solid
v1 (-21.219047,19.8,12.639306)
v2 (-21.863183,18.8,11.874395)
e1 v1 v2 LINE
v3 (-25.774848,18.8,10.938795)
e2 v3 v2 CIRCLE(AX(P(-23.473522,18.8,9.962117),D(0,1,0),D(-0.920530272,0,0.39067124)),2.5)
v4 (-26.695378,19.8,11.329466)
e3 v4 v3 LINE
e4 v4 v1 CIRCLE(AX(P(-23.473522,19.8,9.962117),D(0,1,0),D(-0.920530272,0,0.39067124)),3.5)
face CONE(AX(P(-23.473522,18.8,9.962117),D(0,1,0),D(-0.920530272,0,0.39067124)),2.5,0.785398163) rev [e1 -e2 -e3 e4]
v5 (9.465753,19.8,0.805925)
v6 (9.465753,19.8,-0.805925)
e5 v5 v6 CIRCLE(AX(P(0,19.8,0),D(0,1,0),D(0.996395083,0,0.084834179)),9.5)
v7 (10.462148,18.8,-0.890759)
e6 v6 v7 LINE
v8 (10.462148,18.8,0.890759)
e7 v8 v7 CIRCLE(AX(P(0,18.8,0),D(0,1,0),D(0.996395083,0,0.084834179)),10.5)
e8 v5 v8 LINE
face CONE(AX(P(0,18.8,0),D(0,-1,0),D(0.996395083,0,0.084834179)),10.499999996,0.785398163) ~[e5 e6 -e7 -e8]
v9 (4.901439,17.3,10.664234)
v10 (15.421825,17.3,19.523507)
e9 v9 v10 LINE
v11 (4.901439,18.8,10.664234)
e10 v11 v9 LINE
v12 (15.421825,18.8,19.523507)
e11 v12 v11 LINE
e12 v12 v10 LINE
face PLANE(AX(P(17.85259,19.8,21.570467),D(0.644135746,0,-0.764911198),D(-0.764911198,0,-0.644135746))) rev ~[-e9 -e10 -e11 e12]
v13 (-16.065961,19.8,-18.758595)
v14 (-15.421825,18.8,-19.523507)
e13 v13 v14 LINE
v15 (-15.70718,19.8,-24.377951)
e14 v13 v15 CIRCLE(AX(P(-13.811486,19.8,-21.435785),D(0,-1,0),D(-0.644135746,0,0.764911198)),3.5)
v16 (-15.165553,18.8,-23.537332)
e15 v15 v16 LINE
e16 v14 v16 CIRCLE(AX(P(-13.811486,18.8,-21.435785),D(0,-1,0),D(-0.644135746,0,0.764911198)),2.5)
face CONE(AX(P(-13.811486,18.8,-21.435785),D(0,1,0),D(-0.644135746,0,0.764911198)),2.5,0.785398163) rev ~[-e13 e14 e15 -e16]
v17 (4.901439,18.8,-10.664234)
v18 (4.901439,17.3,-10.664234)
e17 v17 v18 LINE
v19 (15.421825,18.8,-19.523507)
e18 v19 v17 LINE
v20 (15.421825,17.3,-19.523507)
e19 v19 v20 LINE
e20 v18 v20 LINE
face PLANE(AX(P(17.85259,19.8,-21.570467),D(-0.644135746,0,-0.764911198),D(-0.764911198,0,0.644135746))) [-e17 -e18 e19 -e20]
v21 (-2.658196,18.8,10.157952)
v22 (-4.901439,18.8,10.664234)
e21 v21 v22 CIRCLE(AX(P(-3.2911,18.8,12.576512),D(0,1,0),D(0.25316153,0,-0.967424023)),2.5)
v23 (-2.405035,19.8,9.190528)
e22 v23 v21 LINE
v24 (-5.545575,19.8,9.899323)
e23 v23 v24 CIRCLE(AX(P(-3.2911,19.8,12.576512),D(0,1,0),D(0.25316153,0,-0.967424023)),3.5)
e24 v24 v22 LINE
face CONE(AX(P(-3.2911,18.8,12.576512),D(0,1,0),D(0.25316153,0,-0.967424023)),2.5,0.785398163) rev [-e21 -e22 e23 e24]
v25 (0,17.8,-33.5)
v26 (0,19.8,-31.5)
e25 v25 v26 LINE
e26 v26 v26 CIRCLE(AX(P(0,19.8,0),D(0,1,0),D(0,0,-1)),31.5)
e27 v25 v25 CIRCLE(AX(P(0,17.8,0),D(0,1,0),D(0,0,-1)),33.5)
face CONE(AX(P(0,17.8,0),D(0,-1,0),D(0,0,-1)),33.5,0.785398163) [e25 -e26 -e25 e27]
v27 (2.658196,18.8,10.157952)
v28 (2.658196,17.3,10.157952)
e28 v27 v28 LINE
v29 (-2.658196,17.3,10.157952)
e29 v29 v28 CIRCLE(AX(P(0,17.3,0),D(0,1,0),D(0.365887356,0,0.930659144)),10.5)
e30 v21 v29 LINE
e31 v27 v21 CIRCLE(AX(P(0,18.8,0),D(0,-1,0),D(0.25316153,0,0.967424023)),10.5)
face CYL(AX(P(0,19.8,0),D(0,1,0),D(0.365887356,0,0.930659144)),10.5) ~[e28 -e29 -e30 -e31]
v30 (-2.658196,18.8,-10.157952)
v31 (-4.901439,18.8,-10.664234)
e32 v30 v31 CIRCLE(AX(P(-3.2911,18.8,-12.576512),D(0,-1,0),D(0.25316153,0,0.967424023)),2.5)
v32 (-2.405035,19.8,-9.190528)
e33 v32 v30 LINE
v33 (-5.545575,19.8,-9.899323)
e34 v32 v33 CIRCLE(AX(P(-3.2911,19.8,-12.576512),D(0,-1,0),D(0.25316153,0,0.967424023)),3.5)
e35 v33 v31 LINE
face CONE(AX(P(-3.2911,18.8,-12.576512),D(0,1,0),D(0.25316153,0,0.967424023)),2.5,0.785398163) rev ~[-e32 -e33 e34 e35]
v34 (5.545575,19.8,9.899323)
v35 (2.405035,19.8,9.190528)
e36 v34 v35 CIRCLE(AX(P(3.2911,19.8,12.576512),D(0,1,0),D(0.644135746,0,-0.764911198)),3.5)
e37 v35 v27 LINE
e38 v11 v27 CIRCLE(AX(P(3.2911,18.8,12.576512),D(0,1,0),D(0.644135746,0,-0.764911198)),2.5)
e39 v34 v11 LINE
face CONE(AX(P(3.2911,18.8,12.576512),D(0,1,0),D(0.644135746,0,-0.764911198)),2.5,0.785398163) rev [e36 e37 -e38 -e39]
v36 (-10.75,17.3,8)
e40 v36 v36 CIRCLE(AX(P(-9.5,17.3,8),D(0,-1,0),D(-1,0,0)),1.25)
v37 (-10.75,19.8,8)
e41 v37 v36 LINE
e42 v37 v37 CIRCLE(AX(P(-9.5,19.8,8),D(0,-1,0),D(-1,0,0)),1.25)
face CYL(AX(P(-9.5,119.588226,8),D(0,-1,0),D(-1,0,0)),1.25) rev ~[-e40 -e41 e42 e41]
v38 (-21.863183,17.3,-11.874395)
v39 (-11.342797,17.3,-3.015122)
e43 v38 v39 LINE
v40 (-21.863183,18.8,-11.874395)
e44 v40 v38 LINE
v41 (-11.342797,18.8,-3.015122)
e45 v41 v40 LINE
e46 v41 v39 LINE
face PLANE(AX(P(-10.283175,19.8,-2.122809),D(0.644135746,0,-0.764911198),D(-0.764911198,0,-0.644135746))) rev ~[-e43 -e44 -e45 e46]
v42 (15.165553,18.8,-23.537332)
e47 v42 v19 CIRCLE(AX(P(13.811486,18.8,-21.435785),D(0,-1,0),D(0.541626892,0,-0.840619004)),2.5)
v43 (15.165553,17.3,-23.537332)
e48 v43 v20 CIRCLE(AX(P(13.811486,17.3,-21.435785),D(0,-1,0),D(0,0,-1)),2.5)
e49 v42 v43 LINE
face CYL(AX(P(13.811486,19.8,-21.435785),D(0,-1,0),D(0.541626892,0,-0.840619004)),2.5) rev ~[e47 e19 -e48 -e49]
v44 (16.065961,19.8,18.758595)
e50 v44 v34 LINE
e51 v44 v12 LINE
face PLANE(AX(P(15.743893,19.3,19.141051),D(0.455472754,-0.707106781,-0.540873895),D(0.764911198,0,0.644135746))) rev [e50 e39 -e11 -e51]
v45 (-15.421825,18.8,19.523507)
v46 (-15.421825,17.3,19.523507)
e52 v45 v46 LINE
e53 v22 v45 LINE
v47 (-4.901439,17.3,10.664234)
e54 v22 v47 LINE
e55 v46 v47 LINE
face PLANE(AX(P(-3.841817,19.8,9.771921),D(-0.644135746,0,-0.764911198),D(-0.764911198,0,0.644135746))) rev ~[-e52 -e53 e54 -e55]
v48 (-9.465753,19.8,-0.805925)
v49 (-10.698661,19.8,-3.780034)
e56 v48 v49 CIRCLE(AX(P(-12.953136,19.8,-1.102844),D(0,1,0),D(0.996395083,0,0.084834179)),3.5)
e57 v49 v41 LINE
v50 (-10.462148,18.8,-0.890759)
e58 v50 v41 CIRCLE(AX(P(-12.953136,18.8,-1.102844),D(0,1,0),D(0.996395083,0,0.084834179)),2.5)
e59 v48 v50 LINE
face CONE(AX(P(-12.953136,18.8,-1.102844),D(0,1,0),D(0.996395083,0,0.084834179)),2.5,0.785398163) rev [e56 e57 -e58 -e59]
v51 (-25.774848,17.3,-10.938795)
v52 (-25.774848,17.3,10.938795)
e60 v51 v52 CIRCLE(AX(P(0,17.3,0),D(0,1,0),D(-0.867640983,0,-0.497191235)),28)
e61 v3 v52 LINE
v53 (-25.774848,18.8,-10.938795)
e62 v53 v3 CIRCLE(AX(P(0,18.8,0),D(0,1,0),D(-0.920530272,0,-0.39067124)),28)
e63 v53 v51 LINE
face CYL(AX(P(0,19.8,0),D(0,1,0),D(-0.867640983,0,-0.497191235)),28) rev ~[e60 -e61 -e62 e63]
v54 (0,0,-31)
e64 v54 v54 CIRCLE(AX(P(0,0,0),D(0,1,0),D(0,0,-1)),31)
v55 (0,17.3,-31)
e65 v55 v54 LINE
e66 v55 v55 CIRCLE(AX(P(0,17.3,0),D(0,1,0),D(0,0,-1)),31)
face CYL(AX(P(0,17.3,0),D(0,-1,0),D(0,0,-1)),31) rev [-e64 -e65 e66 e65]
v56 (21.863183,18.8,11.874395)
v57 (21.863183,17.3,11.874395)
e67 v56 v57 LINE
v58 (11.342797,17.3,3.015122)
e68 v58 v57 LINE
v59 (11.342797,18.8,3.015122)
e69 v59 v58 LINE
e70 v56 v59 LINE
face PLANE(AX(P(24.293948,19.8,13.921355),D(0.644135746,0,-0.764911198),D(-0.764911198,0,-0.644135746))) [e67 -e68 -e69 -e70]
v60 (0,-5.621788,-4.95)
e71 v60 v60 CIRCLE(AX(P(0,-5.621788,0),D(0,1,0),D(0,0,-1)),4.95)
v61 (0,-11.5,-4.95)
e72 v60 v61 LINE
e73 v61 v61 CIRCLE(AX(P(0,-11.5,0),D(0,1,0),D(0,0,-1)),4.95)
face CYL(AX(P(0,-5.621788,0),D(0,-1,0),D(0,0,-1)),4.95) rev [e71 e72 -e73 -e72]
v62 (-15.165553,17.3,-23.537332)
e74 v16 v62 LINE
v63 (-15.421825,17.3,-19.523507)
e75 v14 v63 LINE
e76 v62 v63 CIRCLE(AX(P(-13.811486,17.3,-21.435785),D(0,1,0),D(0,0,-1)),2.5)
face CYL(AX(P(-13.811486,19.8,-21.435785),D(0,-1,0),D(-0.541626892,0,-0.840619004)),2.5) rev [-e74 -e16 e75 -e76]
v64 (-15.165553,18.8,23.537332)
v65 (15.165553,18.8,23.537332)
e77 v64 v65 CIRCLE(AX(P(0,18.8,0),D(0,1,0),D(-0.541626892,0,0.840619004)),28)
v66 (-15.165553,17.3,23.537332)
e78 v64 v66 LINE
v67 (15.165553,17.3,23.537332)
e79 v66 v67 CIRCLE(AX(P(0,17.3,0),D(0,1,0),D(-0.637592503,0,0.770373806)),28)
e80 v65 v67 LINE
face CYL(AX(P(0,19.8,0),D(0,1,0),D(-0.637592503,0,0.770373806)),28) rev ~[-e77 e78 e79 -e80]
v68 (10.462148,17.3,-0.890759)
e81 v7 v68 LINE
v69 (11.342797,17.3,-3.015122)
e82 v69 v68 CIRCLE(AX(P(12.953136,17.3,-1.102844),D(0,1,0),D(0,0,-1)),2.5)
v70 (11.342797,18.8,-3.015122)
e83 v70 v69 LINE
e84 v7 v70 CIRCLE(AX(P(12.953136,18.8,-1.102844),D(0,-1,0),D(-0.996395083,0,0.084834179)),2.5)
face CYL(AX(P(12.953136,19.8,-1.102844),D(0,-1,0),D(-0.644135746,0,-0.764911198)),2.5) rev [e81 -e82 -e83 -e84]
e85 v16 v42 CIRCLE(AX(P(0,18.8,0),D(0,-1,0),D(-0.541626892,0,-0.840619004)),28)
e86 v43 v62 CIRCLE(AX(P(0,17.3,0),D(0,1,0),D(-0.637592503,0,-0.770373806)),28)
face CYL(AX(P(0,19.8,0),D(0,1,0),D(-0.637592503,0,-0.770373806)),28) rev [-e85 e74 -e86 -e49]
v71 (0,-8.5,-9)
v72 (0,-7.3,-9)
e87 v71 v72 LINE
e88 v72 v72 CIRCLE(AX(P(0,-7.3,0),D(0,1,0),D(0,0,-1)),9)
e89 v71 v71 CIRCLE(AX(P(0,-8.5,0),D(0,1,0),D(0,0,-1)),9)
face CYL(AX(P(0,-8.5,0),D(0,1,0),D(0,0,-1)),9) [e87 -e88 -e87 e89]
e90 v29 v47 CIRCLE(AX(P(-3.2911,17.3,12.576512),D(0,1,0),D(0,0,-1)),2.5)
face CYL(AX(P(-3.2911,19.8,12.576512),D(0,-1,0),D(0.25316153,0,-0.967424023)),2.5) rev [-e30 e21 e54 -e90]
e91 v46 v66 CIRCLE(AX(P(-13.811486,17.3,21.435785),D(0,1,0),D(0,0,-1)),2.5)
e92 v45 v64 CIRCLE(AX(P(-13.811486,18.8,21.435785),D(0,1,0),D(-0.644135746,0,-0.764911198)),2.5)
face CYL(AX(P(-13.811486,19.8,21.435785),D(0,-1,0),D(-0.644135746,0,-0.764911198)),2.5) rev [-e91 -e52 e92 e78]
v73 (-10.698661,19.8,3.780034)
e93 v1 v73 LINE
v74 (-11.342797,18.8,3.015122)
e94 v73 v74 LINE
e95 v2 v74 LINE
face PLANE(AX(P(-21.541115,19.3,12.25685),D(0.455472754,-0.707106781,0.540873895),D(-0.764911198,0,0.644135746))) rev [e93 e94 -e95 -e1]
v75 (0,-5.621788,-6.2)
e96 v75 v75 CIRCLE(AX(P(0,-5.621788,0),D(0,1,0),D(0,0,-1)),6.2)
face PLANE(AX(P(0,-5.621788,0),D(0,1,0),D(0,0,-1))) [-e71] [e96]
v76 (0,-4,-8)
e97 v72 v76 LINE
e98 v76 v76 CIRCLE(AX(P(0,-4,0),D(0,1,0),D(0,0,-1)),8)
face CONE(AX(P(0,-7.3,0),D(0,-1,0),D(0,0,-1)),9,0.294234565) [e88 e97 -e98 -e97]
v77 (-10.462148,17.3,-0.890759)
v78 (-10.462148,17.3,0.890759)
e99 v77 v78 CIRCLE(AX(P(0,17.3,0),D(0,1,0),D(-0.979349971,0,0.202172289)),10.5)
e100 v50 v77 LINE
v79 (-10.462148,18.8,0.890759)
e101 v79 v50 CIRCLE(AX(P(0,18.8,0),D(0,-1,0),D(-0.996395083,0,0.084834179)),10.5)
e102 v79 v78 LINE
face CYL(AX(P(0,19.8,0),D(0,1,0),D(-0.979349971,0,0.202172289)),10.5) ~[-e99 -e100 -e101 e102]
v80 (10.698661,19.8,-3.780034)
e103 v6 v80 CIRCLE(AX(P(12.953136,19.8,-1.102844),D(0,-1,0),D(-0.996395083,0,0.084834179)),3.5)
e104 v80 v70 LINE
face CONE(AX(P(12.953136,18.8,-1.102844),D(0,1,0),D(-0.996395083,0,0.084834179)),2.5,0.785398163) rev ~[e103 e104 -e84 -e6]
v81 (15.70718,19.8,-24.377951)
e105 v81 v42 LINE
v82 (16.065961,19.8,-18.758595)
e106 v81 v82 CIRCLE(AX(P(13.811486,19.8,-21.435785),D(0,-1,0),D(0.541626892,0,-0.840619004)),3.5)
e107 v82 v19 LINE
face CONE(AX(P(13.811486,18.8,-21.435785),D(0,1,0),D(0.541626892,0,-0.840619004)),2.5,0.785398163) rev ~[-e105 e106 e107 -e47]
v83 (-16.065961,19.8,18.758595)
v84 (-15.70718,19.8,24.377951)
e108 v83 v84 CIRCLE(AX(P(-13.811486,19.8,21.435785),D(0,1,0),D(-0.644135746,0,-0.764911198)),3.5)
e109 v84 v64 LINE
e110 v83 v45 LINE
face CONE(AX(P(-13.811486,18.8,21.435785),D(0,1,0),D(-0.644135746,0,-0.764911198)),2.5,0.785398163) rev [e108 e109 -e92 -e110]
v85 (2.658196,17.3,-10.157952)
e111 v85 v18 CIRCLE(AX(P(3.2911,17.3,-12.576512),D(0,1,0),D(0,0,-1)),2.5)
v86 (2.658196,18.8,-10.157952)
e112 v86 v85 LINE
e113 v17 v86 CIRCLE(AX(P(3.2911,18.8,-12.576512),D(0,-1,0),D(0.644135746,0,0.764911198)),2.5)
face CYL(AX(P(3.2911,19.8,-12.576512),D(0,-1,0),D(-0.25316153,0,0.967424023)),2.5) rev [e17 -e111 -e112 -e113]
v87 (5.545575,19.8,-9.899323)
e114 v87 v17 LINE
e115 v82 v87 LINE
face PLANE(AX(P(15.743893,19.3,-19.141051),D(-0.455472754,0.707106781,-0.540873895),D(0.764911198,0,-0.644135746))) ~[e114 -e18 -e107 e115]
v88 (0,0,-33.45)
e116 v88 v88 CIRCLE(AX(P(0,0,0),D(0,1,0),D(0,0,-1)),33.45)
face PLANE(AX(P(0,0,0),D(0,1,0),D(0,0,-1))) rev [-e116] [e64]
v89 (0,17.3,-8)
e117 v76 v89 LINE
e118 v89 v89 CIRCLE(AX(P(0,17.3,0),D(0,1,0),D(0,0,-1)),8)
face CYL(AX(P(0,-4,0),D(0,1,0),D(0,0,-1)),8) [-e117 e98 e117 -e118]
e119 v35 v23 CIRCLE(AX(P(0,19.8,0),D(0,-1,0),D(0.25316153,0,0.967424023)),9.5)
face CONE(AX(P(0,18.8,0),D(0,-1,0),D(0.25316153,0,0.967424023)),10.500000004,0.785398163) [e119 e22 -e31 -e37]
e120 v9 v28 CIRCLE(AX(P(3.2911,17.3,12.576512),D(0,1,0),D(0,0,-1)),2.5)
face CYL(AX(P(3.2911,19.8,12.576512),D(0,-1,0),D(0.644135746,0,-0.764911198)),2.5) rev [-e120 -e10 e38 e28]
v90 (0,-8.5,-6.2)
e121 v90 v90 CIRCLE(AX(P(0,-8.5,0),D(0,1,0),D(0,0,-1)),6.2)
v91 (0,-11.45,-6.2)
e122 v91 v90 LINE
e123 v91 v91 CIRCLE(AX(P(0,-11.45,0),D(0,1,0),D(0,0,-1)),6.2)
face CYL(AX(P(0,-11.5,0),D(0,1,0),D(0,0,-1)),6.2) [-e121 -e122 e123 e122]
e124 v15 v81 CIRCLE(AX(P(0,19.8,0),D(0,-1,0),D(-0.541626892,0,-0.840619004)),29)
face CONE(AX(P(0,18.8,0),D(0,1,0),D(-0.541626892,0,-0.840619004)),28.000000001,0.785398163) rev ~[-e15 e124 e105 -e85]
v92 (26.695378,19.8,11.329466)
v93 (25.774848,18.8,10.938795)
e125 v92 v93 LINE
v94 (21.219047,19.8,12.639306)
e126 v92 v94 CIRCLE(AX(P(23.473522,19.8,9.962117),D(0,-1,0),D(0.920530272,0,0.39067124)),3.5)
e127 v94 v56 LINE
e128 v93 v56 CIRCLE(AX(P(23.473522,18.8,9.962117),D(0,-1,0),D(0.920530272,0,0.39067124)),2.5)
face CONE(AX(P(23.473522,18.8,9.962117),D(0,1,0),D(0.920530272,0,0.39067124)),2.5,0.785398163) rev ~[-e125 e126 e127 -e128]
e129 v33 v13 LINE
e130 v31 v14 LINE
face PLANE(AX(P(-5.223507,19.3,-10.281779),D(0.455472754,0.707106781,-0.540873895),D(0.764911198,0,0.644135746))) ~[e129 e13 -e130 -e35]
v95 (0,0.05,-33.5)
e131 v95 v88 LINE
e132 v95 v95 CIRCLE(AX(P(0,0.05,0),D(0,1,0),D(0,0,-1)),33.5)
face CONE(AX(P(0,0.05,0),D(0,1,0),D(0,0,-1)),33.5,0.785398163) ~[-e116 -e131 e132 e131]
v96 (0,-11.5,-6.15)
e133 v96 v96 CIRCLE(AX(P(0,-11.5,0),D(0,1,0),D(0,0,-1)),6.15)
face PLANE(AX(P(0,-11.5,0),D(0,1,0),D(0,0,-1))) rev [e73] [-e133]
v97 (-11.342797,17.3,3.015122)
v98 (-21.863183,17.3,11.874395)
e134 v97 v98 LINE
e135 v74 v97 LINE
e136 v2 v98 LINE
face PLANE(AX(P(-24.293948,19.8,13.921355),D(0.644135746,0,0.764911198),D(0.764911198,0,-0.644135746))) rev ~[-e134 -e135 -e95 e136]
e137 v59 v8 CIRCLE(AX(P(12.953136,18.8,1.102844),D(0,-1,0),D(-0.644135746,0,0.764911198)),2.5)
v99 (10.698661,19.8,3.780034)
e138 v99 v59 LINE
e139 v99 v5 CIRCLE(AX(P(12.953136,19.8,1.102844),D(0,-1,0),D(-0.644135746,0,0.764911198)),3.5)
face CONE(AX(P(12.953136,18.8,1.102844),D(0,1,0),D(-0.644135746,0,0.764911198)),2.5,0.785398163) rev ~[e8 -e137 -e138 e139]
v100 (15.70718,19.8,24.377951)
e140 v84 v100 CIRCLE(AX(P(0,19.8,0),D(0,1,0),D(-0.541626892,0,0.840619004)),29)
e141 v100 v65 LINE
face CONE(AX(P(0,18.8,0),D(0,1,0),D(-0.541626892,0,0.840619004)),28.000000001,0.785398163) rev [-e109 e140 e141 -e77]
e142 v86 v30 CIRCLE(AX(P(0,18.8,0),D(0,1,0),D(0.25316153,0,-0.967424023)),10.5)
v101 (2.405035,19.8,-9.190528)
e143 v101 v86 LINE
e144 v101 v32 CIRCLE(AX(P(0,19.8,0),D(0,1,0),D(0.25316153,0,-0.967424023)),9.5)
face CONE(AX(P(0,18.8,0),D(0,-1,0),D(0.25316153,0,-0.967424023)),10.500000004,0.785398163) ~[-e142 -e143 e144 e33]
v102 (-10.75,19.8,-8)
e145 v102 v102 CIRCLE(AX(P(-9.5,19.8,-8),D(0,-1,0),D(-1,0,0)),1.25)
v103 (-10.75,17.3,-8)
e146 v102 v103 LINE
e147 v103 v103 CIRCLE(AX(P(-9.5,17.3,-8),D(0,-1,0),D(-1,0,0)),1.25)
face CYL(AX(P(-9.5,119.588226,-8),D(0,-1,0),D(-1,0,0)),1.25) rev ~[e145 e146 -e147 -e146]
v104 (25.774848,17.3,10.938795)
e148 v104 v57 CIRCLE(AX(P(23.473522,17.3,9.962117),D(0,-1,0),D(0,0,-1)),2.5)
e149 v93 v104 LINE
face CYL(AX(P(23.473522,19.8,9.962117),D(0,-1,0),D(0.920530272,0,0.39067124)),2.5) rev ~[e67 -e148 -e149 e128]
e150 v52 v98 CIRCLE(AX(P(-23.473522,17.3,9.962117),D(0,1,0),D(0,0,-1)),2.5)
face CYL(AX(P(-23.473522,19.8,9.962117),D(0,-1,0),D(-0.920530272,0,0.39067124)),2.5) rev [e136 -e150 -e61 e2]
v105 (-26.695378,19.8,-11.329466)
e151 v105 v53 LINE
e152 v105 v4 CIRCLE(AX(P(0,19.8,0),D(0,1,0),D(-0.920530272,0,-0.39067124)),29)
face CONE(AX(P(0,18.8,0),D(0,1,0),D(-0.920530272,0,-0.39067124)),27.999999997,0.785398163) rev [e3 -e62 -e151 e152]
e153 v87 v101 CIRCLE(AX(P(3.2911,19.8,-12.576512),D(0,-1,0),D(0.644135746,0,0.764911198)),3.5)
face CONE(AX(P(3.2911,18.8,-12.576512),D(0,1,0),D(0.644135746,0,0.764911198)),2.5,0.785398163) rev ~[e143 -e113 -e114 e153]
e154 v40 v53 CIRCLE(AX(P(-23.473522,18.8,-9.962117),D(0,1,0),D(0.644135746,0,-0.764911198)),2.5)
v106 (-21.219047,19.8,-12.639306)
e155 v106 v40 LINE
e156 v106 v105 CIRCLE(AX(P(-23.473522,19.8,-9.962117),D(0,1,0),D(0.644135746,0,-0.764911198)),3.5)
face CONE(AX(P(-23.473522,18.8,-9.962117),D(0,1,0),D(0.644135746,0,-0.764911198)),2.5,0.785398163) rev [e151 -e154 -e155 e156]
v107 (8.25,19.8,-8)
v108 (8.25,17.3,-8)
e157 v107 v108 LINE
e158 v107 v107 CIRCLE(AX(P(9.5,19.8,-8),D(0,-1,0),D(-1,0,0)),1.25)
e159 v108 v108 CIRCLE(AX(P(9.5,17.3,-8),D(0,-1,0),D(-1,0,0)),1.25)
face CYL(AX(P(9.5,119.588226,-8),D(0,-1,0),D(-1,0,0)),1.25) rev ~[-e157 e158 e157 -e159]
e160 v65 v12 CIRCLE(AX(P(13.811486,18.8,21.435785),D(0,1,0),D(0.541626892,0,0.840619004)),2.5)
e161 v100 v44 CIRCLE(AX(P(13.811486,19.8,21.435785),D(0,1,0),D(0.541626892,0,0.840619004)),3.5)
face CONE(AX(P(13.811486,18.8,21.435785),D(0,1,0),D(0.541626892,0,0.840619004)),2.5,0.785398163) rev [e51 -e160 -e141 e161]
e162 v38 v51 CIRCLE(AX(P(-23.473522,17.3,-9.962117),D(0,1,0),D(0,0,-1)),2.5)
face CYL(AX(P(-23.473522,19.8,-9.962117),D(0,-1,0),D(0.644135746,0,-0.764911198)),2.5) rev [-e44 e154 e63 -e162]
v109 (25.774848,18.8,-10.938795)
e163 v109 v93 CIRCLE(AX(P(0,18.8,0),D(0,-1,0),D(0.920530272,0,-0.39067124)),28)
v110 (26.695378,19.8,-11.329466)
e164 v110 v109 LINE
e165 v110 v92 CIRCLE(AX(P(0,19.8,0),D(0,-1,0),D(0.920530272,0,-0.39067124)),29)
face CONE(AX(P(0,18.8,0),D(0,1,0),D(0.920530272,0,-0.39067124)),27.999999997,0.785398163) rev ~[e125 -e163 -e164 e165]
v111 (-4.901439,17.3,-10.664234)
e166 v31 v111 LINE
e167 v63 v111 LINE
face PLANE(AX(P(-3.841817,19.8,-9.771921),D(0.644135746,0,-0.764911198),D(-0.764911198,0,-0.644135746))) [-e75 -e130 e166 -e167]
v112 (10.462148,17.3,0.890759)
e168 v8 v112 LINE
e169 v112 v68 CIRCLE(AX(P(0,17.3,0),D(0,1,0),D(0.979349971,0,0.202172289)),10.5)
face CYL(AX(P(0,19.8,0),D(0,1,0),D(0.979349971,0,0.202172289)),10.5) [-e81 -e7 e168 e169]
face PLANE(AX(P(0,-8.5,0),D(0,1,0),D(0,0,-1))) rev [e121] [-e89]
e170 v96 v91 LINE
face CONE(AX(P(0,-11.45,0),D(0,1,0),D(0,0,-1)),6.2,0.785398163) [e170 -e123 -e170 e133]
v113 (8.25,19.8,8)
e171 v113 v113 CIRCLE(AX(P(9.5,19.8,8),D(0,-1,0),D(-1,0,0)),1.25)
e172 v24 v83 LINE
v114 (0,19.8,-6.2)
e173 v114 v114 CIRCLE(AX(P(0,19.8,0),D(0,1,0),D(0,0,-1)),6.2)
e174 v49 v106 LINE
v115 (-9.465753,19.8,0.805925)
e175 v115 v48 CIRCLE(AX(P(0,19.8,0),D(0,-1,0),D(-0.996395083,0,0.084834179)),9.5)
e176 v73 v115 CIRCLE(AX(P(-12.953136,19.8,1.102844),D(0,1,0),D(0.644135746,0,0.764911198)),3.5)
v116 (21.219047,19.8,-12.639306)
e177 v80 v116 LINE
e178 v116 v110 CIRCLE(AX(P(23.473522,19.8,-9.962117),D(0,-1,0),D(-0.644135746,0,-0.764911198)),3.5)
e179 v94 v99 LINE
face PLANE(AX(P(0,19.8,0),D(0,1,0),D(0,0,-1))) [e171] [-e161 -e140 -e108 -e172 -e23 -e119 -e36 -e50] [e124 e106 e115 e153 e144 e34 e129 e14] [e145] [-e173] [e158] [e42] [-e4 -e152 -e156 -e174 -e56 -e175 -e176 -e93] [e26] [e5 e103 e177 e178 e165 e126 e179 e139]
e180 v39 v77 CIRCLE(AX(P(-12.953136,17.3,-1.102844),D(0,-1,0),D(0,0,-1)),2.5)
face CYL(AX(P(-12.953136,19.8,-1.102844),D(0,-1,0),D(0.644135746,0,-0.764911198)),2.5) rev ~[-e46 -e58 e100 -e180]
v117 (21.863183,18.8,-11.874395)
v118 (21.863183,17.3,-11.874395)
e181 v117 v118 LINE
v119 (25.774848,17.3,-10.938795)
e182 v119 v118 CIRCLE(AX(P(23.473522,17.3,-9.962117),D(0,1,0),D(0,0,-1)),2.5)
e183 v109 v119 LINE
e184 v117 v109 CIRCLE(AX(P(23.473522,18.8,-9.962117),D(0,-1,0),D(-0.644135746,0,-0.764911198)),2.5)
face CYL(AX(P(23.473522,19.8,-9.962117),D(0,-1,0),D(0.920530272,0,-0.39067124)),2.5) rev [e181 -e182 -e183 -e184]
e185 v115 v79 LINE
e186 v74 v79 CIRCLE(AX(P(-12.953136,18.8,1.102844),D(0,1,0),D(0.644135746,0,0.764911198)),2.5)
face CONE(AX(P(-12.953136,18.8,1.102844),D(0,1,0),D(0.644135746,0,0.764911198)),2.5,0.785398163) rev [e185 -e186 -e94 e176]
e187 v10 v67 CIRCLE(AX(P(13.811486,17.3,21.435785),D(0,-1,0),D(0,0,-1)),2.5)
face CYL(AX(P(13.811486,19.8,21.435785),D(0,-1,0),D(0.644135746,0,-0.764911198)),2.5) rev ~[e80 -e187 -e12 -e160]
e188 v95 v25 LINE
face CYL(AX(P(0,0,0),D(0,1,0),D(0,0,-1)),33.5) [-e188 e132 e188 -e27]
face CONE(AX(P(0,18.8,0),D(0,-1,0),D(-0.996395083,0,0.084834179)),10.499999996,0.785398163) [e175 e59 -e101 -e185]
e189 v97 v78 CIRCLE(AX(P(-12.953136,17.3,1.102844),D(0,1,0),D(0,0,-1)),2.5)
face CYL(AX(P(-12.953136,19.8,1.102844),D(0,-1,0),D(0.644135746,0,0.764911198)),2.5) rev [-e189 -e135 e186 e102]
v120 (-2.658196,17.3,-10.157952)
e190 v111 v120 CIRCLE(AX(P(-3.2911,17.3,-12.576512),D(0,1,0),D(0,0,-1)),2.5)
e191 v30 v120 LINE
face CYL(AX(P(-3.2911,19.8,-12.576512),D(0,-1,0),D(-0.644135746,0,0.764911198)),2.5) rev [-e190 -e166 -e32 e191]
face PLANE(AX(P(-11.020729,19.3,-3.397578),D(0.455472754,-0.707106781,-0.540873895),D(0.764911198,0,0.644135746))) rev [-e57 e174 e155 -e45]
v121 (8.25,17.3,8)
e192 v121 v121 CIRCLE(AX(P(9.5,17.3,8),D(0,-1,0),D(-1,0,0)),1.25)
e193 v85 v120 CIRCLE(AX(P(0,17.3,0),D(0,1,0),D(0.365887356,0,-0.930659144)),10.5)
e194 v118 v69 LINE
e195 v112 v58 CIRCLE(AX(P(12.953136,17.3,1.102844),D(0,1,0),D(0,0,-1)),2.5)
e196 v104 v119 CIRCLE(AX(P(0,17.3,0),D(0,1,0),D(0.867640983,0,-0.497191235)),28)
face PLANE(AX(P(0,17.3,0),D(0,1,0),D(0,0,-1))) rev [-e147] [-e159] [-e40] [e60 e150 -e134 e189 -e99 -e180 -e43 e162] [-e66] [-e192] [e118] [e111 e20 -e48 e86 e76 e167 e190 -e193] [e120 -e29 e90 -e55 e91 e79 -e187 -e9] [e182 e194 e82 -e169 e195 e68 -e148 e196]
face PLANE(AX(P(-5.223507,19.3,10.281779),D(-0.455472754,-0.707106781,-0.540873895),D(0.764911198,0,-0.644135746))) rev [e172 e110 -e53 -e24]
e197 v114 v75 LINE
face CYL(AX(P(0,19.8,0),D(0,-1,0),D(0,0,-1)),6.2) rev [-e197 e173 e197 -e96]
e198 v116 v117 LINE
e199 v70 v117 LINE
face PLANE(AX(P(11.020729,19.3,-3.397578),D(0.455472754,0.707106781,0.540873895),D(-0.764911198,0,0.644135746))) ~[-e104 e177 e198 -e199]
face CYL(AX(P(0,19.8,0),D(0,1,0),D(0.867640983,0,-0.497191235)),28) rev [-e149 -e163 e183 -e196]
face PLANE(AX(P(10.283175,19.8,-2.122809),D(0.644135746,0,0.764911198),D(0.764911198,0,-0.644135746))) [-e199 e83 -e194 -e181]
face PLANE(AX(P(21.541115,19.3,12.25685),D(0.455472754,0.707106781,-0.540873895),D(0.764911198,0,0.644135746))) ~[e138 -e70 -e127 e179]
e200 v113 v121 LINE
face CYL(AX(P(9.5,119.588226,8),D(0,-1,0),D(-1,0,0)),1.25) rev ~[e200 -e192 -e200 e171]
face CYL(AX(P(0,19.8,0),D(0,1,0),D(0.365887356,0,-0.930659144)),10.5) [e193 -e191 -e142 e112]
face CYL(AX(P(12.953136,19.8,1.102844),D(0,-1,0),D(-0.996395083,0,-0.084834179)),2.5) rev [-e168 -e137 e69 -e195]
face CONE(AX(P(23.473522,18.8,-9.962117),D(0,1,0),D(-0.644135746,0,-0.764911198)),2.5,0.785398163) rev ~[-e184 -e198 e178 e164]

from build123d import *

# Parameters (mm, degrees)
HOLE_WIZARD_M3_1_D  = 2.5
CUT_EXTRUDE_1_DEPTH = 10
CHAMFER_1_SIZE      = 2
FILLET_1_R          = 2.5
CHAMFER_2_SIZE      = 1
CHAMFER_3_SIZE      = 0.05
CHAMFER_4_SIZE      = 0.05


with BuildPart() as part:
    # 草图6 → 旋转1 (revolve)
    with BuildSketch(Plane.XY, mode=Mode.PRIVATE) as revolve_1_sk:
        Polygon((33.5, 0), (33.5, 19.8), (6.2, 19.8), (6.2, -5.621788423), (4.95, -5.621788423), (4.95, -11.5), (6.2, -11.5), (6.2, -8.5), (9, -8.5), (9, -7.3), (8, -4), (8, 17.3), (31, 17.3), (31, 0), align=None)
    revolve(revolve_1_sk.sketch.rotate(Axis((0, 0, 0), (0, 1, 0)), 90), axis=Axis((0, 0, 0), (0, 1, 0)))

    # M3 螺纹孔1 (through all)
    with Locations(Plane(origin=(0, 19.8, 0), x_dir=(1, 0, 0), z_dir=(0, 1, 0))):
        with Locations((9.5, -8), (-9.5, -8), (-9.5, 8), (9.5, 8)):
            Hole(HOLE_WIZARD_M3_1_D / 2)

    # 草图11 → 切除-拉伸1 (cut)
    with BuildSketch(Plane(origin=(0, 19.8, 0), x_dir=(1, 0, 0), z_dir=(0, 1, 0))):
        with BuildLine():
            Line((17.852590074, 21.570466561), (3.841817237, 9.771921015))
            ThreePointArc((3.841817237, 9.771921015), (0, 10.5), (-3.841817237, 9.771921015))
            Line((-3.841817237, 9.771921015), (-17.852590074, 21.570466561))
            ThreePointArc((-17.852590074, 21.570466561), (0, 28), (17.852590074, 21.570466561))
        make_face()
        with BuildLine():
            Line((24.293947531, -13.92135458), (10.283174695, -2.122809033))
            ThreePointArc((10.283174695, -2.122809033), (10.5, 0), (10.283174695, 2.122809033))
            Line((10.283174695, 2.122809033), (24.293947531, 13.92135458))
            ThreePointArc((24.293947531, 13.92135458), (28, 0), (24.293947531, -13.92135458))
        make_face()
        with BuildLine():
            Line((17.852590074, -21.570466561), (3.841817237, -9.771921015))
            ThreePointArc((3.841817237, -9.771921015), (0, -10.5), (-3.841817237, -9.771921015))
            Line((-3.841817237, -9.771921015), (-17.852590074, -21.570466561))
            ThreePointArc((-17.852590074, -21.570466561), (0, -28), (17.852590074, -21.570466561))
        make_face()
        with BuildLine():
            Line((-10.283174695, 2.122809033), (-24.293947531, 13.92135458))
            ThreePointArc((-24.293947531, 13.92135458), (-28, 0), (-24.293947531, -13.92135458))
            Line((-24.293947531, -13.92135458), (-10.283174695, -2.122809033))
            ThreePointArc((-10.283174695, -2.122809033), (-10.5, 0), (-10.283174695, 2.122809033))
        make_face()
    extrude(amount=-CUT_EXTRUDE_1_DEPTH, mode=Mode.SUBTRACT)

    # 倒角1
    chamfer_1_edges = [part.edges().sort_by_distance(p)[0] for p in [
        (0, 19.8, 33.5),
    ]]
    chamfer(chamfer_1_edges, length=CHAMFER_1_SIZE)

    # 圆角1
    fillet_1_edges = [part.edges().sort_by_distance(p)[0] for p in [
        (17.852590074, 18.55, 21.570466561),
        (-17.852590074, 18.55, 21.570466561),
        (-3.841817237, 18.55, 9.771921015),
        (3.841817237, 18.55, 9.771921015),
        (24.293947531, 18.55, -13.92135458),
        (24.293947531, 18.55, 13.92135458),
        (10.283174695, 18.55, 2.122809033),
        (10.283174695, 18.55, -2.122809033),
        (-24.293947531, 18.55, 13.92135458),
        (-24.293947531, 18.55, -13.92135458),
        (-10.283174695, 18.55, -2.122809033),
        (-10.283174695, 18.55, 2.122809033),
        (-17.852590074, 18.55, -21.570466561),
        (17.852590074, 18.55, -21.570466561),
        (3.841817237, 18.55, -9.771921015),
        (-3.841817237, 18.55, -9.771921015),
    ]]
    fillet(fillet_1_edges, radius=FILLET_1_R)

    # 倒角2
    chamfer_2_edges = [part.edges().sort_by_distance(p)[0] for p in [
        (0, 19.8, 28),
        (-10.161632191, 19.8, 15.093870449),
        (0, 19.8, 10.5),
        (10.161632191, 19.8, 15.093870449),
        (28, 19.8, 0),
        (16.602989649, 19.8, 7.444758468),
        (10.5, 19.8, 0),
        (16.602989649, 19.8, -7.444758468),
        (0, 19.8, -28),
        (10.161632191, 19.8, -15.093870449),
        (-10.161632191, 19.8, -15.093870449),
        (0, 19.8, -10.5),
        (-16.602989649, 19.8, 7.444758468),
        (-28, 19.8, 0),
        (-10.5, 19.8, 0),
        (-16.602989649, 19.8, -7.444758468),
        (-16.306405676, 19.8, 21.595078628),
        (-3.841486524, 19.8, 10.13784984),
        (3.841486524, 19.8, 10.13784984),
        (16.306405676, 19.8, 21.595078628),
        (24.055073585, 19.8, 12.393535487),
        (10.643709543, 19.8, 2.060210005),
        (10.643709543, 19.8, -2.060210005),
        (24.055073585, 19.8, -12.393535487),
        (16.306405676, 19.8, -21.595078628),
        (-16.306405676, 19.8, -21.595078628),
        (-3.841486524, 19.8, -10.13784984),
        (3.841486524, 19.8, -10.13784984),
        (-24.055073585, 19.8, 12.393535487),
        (-10.643709543, 19.8, 2.060210005),
        (-10.643709543, 19.8, -2.060210005),
        (-24.055073585, 19.8, -12.393535487),
    ]]
    chamfer(chamfer_2_edges, length=CHAMFER_2_SIZE)

    # 倒角3
    chamfer_3_edges = [part.edges().sort_by_distance(p)[0] for p in [
        (0, 0, 33.5),
    ]]
    chamfer(chamfer_3_edges, length=CHAMFER_3_SIZE)

    # 倒角4
    chamfer_4_edges = [part.edges().sort_by_distance(p)[0] for p in [
        (0, -11.5, 6.2),
    ]]
    chamfer(chamfer_4_edges, length=CHAMFER_4_SIZE)


solid = part.part
